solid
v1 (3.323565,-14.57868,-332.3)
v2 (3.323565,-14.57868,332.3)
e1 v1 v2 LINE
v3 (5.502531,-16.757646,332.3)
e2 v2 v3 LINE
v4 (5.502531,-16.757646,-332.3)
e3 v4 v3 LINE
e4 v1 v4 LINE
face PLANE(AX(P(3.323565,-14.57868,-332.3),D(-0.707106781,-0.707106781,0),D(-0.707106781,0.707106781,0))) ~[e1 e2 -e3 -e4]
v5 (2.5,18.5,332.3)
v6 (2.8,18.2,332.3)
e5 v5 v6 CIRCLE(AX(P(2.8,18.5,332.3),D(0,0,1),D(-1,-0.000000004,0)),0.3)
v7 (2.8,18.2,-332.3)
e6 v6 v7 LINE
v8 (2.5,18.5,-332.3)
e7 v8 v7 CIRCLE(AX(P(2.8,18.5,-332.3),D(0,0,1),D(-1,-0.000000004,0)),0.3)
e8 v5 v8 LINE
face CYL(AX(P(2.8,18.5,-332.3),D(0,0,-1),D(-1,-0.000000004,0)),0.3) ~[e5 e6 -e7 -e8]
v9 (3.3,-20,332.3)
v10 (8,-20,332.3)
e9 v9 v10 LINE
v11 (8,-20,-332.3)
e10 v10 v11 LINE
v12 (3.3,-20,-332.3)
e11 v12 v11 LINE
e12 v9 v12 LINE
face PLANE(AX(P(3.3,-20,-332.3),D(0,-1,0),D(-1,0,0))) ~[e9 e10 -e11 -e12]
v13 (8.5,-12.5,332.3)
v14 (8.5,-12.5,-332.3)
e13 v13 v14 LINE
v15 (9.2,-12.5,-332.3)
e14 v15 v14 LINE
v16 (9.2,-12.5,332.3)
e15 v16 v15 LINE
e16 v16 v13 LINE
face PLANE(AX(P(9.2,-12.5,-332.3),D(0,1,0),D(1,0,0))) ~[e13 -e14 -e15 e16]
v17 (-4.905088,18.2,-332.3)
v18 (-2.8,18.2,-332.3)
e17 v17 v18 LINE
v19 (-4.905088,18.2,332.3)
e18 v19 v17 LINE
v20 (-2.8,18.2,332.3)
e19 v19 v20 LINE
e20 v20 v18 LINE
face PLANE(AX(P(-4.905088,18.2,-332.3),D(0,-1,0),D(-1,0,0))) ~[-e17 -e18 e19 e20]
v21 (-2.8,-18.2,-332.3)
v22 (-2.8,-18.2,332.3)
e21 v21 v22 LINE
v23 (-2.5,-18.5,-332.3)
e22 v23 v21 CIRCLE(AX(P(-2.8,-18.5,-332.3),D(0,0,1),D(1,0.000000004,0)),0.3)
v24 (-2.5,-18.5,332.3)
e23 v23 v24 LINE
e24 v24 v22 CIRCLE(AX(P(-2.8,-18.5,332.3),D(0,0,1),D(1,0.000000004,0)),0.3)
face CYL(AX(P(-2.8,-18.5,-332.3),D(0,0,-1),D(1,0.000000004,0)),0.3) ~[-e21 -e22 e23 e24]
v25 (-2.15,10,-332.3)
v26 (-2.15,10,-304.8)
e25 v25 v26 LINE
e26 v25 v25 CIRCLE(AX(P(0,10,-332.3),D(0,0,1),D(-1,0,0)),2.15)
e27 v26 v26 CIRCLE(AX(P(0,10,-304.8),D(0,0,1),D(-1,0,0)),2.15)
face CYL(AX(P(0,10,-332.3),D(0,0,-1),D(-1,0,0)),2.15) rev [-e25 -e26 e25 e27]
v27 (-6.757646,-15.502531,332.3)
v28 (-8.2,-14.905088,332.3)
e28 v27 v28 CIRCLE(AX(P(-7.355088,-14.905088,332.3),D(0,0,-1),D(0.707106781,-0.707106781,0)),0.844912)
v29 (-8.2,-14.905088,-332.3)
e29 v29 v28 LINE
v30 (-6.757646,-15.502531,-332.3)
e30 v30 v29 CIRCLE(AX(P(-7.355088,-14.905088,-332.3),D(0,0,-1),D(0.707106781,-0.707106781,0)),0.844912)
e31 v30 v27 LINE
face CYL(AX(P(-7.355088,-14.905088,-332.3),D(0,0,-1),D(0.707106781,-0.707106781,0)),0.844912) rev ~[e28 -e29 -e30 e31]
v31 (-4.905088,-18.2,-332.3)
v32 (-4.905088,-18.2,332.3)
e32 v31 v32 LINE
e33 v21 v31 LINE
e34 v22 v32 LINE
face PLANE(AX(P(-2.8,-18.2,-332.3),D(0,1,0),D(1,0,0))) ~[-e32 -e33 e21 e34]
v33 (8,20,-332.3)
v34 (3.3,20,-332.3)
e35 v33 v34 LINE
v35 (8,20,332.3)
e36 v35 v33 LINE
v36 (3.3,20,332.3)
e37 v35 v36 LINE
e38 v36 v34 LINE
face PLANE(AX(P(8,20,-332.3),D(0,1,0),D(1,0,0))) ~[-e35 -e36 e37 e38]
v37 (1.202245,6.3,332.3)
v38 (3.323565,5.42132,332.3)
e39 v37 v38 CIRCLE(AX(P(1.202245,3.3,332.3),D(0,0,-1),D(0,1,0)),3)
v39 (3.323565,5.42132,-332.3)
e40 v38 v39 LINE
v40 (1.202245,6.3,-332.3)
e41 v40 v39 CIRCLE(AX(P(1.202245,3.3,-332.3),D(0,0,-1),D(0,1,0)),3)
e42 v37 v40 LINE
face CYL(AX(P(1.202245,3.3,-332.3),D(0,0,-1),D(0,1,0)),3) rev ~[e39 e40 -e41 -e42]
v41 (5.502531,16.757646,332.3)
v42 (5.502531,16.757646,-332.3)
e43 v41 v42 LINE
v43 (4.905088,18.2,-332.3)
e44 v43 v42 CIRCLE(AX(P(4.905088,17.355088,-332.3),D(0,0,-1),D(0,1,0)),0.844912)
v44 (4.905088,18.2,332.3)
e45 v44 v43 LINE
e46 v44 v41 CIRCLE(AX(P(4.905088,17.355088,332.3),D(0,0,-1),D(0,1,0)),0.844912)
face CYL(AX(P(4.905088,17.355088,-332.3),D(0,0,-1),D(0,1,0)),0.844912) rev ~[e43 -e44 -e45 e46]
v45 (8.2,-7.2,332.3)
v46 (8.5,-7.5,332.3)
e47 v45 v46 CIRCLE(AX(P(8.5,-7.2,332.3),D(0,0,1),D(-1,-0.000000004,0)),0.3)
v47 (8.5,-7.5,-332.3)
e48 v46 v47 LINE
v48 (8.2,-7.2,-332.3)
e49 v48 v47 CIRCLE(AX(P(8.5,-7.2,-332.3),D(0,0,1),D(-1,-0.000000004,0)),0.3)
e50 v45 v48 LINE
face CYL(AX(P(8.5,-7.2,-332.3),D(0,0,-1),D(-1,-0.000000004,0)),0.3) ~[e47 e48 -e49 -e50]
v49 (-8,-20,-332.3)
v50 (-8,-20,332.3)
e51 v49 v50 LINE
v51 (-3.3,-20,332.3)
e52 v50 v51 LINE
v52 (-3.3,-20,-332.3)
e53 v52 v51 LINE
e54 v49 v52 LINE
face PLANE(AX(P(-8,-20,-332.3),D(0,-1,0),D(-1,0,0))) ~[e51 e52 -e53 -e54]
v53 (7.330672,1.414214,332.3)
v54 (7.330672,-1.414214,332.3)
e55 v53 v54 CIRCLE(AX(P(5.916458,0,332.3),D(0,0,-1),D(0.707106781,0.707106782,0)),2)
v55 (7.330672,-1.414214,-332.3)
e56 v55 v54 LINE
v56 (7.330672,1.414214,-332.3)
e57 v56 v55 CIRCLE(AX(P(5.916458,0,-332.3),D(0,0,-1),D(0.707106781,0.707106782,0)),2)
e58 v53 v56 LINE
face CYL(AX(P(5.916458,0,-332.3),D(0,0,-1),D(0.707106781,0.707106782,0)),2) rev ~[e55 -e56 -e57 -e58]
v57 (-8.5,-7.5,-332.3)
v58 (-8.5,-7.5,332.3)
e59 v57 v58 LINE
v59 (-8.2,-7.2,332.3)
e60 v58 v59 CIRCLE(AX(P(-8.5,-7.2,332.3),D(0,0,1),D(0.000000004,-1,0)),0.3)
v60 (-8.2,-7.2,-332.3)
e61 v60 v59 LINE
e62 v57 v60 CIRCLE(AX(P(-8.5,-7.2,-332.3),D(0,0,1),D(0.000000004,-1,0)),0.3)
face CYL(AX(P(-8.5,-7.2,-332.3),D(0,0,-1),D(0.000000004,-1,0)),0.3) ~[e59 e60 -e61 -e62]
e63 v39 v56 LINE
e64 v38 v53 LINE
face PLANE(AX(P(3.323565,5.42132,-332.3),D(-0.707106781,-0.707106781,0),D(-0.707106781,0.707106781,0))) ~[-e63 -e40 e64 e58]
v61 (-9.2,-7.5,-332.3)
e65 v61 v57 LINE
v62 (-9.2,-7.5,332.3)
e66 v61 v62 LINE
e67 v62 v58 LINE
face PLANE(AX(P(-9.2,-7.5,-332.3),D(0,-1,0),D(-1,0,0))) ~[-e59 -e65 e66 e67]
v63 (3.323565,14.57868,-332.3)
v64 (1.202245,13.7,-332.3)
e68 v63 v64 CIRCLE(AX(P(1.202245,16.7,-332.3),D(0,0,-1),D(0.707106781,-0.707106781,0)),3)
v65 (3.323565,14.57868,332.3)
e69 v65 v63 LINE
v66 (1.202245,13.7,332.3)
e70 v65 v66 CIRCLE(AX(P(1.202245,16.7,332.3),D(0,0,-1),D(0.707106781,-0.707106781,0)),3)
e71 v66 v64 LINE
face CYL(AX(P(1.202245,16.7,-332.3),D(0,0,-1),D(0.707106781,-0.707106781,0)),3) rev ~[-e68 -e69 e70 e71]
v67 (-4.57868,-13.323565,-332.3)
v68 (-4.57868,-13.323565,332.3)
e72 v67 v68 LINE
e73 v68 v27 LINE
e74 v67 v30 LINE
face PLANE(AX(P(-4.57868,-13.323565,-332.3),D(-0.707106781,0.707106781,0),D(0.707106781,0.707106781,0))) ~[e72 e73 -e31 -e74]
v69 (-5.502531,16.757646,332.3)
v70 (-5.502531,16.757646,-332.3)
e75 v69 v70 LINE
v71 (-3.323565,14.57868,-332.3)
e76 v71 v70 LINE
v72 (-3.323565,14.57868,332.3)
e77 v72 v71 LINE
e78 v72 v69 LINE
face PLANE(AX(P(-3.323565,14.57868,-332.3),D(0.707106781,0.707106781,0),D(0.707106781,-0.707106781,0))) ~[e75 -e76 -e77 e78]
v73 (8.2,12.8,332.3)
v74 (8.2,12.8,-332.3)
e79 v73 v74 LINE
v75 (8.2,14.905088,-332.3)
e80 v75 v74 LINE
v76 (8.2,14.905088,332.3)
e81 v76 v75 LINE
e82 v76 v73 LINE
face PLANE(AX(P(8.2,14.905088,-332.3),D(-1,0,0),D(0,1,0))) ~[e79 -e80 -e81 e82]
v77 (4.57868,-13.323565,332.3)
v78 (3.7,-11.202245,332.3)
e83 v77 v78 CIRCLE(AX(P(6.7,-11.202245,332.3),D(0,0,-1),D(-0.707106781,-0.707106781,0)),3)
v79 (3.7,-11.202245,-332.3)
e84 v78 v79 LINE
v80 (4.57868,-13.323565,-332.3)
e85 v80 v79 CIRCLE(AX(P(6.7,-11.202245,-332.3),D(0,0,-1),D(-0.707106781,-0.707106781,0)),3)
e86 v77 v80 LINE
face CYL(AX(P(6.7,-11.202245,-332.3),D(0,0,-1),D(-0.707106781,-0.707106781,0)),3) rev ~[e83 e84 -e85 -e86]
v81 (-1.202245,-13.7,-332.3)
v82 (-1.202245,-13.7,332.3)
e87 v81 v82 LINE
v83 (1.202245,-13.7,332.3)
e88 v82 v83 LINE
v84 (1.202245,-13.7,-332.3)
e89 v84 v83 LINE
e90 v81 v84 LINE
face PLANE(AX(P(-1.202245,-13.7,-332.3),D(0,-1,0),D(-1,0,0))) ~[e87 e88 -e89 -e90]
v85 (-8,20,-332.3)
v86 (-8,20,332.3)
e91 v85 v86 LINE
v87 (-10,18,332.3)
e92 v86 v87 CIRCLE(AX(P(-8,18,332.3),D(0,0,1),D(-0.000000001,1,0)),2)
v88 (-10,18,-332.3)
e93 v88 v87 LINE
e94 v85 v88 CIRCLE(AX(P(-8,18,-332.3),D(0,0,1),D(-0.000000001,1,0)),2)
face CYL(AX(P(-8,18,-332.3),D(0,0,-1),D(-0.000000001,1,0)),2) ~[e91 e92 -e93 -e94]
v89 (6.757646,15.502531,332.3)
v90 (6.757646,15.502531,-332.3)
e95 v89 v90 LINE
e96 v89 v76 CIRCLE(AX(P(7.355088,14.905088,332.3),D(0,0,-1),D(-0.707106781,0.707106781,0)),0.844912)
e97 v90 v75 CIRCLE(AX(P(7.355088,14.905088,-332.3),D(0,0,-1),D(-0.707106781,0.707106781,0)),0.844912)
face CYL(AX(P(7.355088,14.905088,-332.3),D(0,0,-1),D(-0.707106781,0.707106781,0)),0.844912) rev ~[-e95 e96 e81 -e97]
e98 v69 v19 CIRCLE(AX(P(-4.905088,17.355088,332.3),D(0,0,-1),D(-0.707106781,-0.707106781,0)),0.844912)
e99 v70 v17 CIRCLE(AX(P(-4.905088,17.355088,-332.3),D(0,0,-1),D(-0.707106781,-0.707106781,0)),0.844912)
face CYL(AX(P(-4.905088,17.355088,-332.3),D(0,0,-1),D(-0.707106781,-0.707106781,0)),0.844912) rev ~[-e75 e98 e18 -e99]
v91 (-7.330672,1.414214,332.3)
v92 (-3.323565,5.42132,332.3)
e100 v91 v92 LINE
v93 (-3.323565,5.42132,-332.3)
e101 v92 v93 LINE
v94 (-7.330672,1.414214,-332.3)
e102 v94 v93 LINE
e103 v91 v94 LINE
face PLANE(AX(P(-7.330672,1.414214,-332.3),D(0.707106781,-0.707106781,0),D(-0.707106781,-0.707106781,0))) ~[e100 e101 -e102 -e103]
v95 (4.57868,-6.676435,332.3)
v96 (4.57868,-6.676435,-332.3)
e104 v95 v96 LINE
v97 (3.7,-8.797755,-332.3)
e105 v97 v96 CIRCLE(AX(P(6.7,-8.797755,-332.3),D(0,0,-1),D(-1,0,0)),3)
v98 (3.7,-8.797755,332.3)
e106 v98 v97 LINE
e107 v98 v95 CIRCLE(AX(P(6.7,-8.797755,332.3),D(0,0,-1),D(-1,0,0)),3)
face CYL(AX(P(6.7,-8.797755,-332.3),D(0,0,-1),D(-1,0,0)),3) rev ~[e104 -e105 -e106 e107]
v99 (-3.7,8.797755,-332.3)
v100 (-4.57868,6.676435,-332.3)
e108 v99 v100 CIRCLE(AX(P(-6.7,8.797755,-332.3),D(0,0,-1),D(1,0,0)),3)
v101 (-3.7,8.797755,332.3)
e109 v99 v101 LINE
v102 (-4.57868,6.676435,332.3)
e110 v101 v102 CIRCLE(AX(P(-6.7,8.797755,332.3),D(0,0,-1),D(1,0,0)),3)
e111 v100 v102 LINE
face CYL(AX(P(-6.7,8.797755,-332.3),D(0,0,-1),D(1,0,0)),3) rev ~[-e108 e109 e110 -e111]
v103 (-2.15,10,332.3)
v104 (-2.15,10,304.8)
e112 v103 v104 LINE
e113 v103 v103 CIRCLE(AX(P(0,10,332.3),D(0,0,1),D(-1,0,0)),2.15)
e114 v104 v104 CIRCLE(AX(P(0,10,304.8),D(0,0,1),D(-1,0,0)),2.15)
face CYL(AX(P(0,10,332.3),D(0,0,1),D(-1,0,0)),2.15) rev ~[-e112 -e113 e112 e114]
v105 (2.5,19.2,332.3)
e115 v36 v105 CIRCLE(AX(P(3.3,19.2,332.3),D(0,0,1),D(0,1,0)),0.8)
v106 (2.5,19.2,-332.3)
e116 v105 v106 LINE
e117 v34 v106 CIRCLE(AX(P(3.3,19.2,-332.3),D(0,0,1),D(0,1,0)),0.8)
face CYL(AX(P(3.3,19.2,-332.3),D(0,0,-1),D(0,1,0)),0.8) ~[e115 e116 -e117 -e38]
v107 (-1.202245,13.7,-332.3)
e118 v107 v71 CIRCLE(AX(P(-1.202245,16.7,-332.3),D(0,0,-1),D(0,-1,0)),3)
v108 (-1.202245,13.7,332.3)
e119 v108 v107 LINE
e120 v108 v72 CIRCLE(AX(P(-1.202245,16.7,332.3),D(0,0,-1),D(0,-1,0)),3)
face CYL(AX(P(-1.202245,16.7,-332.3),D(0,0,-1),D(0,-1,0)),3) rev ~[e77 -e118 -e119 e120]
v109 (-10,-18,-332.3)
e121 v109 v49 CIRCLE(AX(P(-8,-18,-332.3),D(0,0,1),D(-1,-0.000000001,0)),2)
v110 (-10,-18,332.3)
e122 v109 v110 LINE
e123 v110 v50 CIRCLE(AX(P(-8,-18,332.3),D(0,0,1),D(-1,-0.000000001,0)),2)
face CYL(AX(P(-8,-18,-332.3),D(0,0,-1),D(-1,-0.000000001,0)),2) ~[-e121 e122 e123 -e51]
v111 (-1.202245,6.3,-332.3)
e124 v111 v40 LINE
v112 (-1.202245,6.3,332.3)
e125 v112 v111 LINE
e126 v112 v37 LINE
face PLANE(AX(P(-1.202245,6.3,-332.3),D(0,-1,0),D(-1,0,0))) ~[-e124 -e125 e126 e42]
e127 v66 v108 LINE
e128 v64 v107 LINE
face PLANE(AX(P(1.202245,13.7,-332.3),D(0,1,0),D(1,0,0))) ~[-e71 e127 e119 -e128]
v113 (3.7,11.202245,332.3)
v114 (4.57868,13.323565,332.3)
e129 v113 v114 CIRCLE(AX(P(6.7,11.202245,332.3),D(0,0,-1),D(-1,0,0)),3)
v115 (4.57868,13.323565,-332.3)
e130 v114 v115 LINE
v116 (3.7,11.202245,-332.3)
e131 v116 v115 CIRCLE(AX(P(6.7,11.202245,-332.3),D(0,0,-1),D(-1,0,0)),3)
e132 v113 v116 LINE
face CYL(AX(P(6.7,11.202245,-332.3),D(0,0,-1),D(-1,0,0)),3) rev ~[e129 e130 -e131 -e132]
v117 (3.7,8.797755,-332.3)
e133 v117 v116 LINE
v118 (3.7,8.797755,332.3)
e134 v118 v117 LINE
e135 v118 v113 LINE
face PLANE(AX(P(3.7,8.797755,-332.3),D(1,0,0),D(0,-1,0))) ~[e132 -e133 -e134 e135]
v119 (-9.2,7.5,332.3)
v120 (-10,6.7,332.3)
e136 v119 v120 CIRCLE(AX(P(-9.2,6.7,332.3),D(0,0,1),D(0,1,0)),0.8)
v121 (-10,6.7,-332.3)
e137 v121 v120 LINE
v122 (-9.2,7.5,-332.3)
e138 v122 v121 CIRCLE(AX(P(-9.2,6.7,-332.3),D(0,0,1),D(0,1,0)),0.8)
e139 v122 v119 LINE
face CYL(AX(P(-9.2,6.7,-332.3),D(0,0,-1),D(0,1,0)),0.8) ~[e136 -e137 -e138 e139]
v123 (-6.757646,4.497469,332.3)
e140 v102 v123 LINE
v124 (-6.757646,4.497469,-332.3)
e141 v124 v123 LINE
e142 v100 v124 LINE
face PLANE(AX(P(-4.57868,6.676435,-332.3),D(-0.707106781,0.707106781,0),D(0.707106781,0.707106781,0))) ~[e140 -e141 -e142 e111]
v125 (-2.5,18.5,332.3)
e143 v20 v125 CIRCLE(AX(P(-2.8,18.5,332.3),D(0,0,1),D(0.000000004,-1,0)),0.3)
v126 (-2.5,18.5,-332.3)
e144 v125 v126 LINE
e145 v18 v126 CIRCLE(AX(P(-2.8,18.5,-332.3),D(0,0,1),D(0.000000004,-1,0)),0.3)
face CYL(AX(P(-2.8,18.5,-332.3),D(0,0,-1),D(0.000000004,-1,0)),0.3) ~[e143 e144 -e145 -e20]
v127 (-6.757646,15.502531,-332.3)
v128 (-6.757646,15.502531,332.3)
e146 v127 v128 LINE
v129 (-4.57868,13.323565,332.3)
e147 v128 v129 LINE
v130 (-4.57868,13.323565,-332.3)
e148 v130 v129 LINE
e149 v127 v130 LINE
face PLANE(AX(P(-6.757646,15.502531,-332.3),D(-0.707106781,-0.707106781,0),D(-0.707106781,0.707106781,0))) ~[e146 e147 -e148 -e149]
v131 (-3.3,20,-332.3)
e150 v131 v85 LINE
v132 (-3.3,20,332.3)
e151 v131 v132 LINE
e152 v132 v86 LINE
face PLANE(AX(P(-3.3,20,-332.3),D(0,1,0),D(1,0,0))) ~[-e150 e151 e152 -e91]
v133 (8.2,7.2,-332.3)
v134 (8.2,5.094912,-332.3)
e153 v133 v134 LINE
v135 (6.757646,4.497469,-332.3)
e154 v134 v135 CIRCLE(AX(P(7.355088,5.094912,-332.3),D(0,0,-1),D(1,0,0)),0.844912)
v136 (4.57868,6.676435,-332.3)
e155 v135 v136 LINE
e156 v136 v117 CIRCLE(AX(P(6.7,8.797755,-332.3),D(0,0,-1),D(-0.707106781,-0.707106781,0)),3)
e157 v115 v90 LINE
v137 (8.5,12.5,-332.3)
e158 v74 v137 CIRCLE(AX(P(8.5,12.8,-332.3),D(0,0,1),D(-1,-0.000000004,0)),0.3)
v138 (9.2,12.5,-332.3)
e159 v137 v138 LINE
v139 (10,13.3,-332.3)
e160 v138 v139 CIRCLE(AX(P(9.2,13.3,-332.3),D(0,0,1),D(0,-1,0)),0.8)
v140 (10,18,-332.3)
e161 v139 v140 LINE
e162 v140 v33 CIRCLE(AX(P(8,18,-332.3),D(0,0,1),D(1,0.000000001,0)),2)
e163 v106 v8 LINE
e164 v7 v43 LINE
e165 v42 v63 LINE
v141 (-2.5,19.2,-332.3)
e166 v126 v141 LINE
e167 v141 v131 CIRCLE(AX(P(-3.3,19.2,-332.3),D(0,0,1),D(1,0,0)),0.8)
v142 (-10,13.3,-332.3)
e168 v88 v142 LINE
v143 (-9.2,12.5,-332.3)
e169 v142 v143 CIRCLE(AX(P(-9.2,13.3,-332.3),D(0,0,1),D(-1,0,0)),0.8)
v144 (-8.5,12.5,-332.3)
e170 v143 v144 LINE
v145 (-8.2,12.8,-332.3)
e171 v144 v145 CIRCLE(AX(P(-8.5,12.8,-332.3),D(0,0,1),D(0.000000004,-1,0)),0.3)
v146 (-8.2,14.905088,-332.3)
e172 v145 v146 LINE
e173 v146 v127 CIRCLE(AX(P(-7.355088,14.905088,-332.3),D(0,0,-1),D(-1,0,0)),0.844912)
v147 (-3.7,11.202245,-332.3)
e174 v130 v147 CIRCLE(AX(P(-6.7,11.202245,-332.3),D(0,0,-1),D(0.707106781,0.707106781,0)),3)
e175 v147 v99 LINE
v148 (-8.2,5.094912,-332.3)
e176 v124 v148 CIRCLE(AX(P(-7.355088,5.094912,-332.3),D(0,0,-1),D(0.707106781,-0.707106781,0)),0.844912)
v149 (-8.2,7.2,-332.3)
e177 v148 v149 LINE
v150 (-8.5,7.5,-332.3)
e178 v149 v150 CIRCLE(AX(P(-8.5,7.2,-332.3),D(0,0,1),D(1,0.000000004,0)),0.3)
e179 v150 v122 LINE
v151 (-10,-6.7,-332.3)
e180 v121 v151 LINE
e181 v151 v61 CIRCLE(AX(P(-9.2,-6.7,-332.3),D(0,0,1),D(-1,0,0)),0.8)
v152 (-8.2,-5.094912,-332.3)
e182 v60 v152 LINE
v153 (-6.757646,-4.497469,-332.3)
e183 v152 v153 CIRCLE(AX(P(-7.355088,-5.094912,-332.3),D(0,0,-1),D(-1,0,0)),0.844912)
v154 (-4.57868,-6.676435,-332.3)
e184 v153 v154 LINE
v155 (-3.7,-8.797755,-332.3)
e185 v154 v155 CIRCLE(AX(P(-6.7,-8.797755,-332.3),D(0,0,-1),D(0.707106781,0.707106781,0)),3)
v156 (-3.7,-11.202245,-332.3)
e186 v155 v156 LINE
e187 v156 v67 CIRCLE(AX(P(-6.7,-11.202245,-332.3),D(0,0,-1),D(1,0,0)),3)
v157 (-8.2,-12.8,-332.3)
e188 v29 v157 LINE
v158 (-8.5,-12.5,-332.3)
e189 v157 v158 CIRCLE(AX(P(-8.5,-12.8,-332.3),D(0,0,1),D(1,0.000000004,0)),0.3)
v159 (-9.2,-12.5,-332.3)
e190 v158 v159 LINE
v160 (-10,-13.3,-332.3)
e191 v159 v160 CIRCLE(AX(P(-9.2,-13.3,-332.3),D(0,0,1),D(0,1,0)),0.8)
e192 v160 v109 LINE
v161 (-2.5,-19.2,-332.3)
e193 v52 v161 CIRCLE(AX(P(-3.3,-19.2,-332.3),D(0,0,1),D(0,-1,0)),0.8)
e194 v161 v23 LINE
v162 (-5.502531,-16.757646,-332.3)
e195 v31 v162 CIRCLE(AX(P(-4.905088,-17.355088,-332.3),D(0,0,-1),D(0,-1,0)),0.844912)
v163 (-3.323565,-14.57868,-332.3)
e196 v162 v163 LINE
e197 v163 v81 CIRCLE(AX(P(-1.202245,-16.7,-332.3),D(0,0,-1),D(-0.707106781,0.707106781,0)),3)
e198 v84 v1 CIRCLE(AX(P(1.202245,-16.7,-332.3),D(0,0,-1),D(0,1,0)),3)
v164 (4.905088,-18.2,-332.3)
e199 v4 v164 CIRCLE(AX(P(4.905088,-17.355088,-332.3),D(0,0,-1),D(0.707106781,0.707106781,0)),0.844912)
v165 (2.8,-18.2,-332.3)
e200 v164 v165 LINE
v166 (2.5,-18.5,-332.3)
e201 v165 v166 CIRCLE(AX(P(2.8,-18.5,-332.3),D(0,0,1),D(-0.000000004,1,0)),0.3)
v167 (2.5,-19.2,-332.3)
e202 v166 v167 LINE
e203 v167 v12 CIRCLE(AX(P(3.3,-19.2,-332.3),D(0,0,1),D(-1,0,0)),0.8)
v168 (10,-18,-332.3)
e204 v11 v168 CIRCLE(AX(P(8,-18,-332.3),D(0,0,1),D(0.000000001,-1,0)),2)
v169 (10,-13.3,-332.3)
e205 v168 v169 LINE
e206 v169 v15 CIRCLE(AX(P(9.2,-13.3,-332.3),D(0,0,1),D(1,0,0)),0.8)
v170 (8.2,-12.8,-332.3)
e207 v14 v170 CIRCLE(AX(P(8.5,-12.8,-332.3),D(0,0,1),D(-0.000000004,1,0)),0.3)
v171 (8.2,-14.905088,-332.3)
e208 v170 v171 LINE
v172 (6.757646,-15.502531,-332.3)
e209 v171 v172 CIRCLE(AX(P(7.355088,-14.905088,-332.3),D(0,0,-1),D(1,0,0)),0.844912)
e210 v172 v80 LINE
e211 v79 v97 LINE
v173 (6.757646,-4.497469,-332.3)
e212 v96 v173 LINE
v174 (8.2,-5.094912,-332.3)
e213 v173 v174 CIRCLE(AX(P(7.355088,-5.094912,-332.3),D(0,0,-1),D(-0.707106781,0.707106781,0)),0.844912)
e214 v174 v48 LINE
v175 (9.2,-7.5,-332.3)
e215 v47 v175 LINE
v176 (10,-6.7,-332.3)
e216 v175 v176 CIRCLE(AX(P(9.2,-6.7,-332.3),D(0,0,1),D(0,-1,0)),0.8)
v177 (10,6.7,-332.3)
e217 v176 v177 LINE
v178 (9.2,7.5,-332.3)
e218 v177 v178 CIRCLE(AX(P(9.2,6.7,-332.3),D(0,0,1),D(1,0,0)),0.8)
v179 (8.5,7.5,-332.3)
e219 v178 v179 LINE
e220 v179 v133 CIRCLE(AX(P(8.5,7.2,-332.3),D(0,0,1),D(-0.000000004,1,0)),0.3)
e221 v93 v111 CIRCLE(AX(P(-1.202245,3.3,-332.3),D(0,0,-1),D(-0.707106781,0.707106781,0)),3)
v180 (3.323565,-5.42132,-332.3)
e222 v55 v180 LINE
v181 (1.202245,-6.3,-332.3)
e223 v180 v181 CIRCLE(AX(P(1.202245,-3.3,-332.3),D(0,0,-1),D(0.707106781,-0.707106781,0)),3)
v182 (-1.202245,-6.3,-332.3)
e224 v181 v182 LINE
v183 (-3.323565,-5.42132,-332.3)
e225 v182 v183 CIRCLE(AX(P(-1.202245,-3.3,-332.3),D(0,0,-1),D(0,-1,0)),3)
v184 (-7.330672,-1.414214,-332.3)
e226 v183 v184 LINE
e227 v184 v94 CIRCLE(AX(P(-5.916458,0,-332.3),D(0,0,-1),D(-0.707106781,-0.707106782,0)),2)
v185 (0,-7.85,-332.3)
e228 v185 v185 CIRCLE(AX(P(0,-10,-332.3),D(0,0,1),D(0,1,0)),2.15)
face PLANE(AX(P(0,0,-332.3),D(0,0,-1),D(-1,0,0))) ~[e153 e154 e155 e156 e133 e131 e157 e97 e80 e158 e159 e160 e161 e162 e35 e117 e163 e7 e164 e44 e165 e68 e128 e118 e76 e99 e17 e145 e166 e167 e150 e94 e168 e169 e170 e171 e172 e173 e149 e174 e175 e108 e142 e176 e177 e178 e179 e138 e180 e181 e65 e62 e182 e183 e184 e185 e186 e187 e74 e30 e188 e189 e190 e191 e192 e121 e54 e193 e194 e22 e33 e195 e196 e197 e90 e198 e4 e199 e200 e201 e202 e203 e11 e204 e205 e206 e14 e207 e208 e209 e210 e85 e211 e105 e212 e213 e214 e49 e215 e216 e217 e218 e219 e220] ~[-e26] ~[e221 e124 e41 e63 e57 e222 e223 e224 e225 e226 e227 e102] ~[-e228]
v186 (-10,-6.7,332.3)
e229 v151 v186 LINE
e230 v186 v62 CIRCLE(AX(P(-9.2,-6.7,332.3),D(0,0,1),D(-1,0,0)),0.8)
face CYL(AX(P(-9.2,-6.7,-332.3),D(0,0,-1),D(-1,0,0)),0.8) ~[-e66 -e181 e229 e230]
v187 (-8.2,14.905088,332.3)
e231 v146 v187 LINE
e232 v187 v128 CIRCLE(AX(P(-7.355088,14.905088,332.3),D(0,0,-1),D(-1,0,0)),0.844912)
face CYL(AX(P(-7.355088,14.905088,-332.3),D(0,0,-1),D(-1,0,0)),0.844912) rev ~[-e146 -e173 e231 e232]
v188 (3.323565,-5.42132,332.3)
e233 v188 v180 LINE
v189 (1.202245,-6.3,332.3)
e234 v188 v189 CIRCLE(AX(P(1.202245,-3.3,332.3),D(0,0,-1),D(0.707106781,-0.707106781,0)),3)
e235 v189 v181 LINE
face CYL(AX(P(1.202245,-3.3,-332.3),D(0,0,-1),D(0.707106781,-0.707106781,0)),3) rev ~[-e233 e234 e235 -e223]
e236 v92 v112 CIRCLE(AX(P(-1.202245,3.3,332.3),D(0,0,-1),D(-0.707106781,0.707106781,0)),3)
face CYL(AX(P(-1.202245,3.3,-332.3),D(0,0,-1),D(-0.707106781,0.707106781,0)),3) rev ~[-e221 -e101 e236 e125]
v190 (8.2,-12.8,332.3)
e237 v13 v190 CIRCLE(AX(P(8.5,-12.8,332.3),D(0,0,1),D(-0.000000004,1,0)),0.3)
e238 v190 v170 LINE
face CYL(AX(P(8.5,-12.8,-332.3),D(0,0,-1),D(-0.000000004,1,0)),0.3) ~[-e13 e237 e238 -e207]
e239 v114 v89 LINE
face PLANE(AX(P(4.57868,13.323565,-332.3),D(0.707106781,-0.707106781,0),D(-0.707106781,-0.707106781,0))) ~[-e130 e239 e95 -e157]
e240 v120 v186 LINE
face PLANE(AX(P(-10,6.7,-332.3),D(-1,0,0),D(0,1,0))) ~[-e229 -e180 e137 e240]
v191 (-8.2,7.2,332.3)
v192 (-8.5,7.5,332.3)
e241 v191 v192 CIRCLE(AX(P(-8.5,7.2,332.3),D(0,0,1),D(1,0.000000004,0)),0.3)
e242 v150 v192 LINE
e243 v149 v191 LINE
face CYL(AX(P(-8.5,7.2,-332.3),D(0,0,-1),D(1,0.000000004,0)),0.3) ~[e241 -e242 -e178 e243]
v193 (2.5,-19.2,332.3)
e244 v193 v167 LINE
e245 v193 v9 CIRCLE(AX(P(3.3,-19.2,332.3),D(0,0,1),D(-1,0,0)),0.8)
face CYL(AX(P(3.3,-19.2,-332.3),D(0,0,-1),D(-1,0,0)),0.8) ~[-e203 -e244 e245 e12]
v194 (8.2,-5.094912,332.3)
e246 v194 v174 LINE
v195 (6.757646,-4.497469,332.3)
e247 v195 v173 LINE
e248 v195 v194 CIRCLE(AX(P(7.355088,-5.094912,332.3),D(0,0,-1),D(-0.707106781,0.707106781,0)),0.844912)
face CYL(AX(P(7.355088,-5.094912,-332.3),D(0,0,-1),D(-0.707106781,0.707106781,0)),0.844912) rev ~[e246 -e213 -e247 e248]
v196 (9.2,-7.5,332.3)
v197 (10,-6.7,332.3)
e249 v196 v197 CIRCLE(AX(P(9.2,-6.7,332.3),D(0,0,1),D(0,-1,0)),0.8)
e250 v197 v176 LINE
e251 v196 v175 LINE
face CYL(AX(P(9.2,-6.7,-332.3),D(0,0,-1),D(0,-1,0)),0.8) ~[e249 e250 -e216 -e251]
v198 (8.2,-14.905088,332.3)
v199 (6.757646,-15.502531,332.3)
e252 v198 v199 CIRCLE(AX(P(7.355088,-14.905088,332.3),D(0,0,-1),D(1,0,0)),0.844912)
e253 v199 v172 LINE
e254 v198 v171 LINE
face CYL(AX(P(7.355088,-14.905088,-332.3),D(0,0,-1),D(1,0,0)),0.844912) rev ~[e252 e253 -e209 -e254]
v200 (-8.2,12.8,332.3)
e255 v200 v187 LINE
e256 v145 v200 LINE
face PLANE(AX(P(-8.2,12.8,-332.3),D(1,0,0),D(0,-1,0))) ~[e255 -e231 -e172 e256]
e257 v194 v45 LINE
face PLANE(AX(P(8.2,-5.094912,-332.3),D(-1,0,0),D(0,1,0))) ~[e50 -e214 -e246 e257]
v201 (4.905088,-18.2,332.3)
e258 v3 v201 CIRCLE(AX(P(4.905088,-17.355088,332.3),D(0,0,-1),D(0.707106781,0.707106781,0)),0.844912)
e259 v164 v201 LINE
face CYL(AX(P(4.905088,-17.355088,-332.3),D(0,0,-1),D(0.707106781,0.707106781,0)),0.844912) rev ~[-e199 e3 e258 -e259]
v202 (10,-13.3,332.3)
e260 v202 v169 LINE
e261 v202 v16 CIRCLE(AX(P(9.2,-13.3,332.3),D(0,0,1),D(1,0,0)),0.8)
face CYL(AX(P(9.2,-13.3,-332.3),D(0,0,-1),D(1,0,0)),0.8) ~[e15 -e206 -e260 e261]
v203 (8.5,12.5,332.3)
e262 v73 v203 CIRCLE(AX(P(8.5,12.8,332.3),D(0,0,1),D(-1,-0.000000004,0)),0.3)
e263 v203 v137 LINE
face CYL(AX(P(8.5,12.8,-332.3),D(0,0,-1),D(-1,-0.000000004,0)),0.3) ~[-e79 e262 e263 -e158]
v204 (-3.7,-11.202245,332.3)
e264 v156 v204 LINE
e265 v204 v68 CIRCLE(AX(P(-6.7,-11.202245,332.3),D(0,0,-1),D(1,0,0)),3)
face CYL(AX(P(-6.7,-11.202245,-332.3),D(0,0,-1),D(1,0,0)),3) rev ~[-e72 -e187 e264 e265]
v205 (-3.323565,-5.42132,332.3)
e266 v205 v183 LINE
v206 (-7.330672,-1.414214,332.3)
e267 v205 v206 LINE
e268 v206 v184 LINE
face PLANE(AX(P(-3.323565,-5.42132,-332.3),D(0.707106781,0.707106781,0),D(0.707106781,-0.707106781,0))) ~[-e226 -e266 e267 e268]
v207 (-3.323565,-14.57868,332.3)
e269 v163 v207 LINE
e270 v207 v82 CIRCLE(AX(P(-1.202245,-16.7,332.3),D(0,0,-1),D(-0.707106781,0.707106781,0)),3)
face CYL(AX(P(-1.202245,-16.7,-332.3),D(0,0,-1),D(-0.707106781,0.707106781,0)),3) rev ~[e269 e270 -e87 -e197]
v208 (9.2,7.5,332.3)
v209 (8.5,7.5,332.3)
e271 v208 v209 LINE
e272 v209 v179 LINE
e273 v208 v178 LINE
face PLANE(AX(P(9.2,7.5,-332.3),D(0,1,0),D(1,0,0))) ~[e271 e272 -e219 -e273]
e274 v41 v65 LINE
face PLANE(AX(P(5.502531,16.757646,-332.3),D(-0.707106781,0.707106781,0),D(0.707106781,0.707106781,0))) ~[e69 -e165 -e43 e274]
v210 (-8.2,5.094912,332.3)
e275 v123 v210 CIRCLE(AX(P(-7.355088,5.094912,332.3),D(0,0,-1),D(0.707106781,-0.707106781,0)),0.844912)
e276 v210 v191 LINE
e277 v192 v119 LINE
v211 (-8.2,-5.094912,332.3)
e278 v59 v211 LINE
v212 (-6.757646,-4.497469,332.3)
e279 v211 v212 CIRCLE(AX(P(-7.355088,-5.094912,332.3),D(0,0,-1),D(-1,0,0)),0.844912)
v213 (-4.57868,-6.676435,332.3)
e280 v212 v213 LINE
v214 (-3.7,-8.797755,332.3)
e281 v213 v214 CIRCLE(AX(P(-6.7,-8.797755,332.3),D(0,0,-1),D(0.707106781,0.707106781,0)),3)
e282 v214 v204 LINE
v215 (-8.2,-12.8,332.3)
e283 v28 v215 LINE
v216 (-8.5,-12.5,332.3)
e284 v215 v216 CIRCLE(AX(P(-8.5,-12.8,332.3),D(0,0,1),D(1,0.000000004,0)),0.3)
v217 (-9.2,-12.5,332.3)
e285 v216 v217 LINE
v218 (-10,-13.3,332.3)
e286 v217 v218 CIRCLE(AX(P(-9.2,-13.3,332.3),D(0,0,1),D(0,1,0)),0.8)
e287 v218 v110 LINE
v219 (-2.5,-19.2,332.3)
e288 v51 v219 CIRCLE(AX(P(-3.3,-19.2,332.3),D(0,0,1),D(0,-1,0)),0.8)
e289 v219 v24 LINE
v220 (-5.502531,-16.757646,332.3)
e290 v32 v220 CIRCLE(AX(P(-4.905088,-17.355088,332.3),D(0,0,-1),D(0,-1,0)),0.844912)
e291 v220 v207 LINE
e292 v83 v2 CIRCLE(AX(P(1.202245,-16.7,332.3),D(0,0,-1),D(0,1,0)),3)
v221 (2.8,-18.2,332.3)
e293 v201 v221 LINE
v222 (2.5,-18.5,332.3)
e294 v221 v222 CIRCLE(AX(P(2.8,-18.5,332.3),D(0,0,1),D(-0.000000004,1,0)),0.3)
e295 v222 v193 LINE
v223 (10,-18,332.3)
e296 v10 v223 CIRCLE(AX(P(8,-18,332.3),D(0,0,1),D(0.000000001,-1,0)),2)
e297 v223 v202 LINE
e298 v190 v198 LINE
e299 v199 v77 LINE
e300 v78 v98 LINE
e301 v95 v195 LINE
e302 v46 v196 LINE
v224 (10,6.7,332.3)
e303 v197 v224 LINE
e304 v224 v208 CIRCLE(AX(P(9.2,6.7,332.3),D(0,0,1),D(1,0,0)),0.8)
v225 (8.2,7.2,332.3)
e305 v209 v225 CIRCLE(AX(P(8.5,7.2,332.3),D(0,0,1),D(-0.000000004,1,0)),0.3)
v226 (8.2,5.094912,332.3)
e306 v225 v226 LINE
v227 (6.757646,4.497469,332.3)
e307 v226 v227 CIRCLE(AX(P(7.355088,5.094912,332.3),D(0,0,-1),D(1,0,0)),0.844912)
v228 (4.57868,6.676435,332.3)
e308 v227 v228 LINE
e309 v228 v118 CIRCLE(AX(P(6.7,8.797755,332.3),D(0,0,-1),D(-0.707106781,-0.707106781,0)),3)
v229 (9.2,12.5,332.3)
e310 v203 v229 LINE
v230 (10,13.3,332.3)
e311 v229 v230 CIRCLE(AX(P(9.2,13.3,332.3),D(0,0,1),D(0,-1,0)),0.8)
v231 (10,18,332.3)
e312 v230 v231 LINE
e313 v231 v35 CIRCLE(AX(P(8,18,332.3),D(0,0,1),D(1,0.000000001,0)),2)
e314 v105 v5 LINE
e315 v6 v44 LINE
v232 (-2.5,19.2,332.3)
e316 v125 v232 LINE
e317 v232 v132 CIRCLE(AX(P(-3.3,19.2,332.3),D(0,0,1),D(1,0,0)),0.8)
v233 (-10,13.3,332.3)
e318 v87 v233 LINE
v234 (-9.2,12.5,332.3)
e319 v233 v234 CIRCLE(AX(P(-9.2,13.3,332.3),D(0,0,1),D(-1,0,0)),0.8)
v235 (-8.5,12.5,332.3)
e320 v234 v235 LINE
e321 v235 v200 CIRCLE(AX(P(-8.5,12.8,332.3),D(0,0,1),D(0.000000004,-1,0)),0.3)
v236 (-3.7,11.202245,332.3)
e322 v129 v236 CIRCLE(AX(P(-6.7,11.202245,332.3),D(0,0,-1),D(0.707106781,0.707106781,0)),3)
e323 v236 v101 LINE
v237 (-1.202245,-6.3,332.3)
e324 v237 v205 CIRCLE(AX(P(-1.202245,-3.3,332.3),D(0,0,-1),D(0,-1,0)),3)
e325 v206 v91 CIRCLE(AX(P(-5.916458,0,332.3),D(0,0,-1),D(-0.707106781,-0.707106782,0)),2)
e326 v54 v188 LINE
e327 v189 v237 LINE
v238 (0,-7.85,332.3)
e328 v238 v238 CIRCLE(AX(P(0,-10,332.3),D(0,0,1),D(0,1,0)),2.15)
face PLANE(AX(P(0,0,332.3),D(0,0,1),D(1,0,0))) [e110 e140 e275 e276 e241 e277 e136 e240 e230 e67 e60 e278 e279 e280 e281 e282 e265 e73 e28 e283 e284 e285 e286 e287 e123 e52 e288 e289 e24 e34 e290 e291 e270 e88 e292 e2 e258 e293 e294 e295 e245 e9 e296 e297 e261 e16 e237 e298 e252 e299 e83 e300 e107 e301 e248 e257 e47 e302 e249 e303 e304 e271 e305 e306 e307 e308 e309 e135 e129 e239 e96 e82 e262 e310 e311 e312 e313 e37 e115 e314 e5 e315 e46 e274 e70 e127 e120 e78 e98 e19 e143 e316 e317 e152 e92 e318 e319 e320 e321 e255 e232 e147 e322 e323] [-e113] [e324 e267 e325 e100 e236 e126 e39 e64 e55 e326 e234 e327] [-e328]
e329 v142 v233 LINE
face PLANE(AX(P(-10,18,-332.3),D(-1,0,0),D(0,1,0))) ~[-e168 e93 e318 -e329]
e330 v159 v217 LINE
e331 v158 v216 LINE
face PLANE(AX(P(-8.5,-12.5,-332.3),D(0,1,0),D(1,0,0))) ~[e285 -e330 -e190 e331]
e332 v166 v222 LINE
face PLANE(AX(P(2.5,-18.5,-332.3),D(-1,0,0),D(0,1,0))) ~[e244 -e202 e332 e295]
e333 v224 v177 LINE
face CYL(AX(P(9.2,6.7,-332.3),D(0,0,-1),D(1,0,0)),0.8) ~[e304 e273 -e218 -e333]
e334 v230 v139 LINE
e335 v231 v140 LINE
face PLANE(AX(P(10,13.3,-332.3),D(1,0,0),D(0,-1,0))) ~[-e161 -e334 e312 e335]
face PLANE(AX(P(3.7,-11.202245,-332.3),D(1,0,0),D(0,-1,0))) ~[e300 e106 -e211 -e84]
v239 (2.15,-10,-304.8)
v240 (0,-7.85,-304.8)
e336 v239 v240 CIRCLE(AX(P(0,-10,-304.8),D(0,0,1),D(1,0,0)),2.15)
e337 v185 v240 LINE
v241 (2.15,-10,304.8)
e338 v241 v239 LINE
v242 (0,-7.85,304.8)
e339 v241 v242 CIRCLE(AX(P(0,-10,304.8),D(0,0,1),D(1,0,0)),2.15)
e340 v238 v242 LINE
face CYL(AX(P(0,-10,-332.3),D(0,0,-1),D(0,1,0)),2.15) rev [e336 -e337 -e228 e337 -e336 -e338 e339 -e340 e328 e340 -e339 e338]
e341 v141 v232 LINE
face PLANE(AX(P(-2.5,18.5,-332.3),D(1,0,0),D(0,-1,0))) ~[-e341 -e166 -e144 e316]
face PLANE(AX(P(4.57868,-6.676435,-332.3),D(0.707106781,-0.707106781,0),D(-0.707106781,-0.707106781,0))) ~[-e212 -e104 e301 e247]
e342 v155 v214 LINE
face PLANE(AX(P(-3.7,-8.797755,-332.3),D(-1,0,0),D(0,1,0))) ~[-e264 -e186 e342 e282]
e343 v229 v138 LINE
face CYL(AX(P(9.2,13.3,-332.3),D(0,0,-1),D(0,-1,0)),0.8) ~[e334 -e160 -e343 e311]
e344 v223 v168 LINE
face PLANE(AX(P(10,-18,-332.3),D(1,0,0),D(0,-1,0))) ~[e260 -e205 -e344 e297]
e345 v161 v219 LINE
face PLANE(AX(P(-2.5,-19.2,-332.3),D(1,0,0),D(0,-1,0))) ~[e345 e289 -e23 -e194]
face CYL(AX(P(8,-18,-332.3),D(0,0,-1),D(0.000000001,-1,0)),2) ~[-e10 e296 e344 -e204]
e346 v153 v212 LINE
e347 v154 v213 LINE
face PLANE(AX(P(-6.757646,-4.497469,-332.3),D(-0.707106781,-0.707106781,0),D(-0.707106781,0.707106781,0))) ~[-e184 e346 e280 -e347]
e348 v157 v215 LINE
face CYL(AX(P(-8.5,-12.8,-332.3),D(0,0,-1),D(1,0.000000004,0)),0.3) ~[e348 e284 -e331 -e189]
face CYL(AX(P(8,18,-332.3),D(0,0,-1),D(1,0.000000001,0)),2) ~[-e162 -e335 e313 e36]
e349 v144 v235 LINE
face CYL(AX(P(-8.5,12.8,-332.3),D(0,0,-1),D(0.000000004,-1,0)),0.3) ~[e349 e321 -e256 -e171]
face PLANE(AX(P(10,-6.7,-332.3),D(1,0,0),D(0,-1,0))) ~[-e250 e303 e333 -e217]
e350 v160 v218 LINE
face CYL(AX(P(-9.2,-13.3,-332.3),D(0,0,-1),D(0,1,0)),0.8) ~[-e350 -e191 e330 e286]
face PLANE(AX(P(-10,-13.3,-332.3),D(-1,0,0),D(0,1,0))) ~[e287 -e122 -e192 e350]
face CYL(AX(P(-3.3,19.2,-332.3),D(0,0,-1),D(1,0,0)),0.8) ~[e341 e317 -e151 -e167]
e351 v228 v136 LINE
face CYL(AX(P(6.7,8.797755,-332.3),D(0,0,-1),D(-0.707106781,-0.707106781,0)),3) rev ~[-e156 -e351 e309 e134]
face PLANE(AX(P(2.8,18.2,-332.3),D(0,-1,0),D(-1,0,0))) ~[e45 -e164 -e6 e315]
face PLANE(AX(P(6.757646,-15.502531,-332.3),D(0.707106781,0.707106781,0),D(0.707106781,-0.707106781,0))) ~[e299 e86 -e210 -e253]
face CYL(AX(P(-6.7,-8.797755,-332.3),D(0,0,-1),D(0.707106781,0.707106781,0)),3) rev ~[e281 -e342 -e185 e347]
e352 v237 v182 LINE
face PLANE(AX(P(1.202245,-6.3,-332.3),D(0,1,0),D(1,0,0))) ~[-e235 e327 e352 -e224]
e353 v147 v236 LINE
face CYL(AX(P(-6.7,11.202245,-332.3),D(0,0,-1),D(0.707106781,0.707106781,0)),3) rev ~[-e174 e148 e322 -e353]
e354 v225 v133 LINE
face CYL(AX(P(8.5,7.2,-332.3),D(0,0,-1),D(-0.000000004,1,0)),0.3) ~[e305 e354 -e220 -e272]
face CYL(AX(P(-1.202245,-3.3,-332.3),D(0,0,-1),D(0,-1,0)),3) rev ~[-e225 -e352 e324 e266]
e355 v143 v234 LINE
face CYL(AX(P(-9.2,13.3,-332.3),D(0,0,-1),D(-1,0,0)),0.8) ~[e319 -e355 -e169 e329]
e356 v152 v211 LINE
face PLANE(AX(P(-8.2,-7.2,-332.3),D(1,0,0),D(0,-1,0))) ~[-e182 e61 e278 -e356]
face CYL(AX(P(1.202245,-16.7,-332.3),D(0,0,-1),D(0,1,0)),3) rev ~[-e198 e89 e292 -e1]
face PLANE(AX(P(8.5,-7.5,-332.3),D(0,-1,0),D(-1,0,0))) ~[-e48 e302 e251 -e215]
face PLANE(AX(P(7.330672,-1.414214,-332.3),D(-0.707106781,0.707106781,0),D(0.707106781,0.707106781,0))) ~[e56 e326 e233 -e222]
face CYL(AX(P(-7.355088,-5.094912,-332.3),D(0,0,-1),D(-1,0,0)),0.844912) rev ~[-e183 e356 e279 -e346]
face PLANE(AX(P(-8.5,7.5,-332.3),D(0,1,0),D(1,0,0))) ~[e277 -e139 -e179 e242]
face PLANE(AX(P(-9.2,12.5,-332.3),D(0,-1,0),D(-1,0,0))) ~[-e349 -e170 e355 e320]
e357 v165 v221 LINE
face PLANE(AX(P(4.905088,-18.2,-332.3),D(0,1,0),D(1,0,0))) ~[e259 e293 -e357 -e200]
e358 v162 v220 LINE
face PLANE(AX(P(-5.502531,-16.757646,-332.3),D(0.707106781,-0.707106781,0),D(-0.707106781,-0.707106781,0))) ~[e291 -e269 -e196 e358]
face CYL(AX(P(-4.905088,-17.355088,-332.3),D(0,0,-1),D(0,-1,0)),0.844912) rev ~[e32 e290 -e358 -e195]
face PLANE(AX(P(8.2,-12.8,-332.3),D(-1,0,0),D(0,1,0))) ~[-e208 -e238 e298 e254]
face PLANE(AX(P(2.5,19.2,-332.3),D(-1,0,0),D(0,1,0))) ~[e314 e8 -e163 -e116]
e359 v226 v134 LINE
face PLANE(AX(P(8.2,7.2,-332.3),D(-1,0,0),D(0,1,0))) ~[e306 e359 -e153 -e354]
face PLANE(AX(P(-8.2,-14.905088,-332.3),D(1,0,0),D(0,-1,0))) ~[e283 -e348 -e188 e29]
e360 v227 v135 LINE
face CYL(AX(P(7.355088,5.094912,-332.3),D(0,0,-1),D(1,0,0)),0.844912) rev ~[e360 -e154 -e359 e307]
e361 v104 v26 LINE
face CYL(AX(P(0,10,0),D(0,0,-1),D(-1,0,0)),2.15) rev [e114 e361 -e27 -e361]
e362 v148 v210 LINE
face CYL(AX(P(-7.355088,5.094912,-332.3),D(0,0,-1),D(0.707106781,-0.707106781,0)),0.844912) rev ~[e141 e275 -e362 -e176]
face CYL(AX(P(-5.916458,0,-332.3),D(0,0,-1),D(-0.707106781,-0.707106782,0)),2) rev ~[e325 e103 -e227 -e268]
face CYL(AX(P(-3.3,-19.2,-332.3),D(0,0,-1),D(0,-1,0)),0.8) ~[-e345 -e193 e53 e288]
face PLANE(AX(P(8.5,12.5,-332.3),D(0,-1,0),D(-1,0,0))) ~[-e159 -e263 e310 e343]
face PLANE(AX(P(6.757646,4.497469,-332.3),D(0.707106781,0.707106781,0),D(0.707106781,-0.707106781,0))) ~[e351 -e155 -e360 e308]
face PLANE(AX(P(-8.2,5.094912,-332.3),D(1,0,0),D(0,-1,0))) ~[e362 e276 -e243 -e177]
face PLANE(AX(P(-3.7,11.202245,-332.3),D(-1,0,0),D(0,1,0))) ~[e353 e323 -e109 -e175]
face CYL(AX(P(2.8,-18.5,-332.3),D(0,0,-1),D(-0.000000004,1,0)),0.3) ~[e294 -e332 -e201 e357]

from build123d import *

# Parameters (mm, degrees)
SKETCH3_R           = 2.15
BOSS_EXTRUDE1_DEPTH = 304.8
CIRPATTERN1_COUNT   = 2
BOSS_EXTRUDE2_START = 27.5
SKETCH4_R           = 2.15
BOSS_EXTRUDE2_DEPTH = 27.5


with BuildPart() as part:
    # Sketch3 → Boss-Extrude1 (new, symmetric)
    with BuildSketch(Plane.XY):
        with BuildLine():
            Line((-8.5, 7.5), (-9.2, 7.5))
            ThreePointArc((-9.2, 7.5), (-9.765685425, 7.265685425), (-10, 6.7))
            Line((-10, 6.7), (-10, 0))
            Line((-10, 0), (-7.916458339, 0))
            ThreePointArc((-7.916458339, 0), (-7.764217404, 0.765366865), (-7.330671901, 1.414213562))
            Line((-7.330671901, 1.414213562), (-3.32356512, 5.421320344))
            ThreePointArc((-3.32356512, 5.421320344), (-2.350295073, 6.071638598), (-1.202244776, 6.3))
            Line((-1.202244776, 6.3), (1.202244776, 6.3))
            ThreePointArc((1.202244776, 6.3), (2.350295073, 6.071638598), (3.32356512, 5.421320344))
            Line((3.32356512, 5.421320344), (7.330671901, 1.414213562))
            ThreePointArc((7.330671901, 1.414213562), (7.764217404, 0.765366865), (7.916458339, 0))
            Line((7.916458339, 0), (10, 0))
            Line((10, 0), (10, 6.7))
            ThreePointArc((10, 6.7), (9.765685425, 7.265685425), (9.2, 7.5))
            Line((9.2, 7.5), (8.5, 7.5))
            ThreePointArc((8.5, 7.5), (8.287867966, 7.412132034), (8.2, 7.2))
            Line((8.2, 7.2), (8.2, 5.094911614))
            ThreePointArc((8.2, 5.094911614), (7.678422063, 4.314315067), (6.757645654, 4.497468882))
            Line((6.757645654, 4.497468882), (4.578679656, 6.67643488))
            ThreePointArc((4.578679656, 6.67643488), (3.928361402, 7.649704927), (3.7, 8.797755224))
            Line((3.7, 8.797755224), (3.7, 11.202244776))
            ThreePointArc((3.7, 11.202244776), (3.928361402, 12.350295073), (4.578679656, 13.32356512))
            Line((4.578679656, 13.32356512), (6.757645654, 15.502531118))
            ThreePointArc((6.757645654, 15.502531118), (7.678422063, 15.685684933), (8.2, 14.905088386))
            Line((8.2, 14.905088386), (8.2, 12.8))
            ThreePointArc((8.2, 12.8), (8.287867966, 12.587867966), (8.5, 12.5))
            Line((8.5, 12.5), (9.2, 12.5))
            ThreePointArc((9.2, 12.5), (9.765685425, 12.734314575), (10, 13.3))
            Line((10, 13.3), (10, 18))
            ThreePointArc((10, 18), (9.414213562, 19.414213562), (8, 20))
            Line((8, 20), (3.3, 20))
            ThreePointArc((3.3, 20), (2.734314575, 19.765685425), (2.5, 19.2))
            Line((2.5, 19.2), (2.5, 18.5))
            ThreePointArc((2.5, 18.5), (2.587867966, 18.287867966), (2.8, 18.2))
            Line((2.8, 18.2), (4.905088386, 18.2))
            ThreePointArc((4.905088386, 18.2), (5.685684933, 17.678422063), (5.502531118, 16.757645654))
            Line((5.502531118, 16.757645654), (3.32356512, 14.578679656))
            ThreePointArc((3.32356512, 14.578679656), (2.350295073, 13.928361402), (1.202244776, 13.7))
            Line((1.202244776, 13.7), (-1.202244776, 13.7))
            ThreePointArc((-1.202244776, 13.7), (-2.350295073, 13.928361402), (-3.32356512, 14.578679656))
            Line((-3.32356512, 14.578679656), (-5.502531118, 16.757645654))
            ThreePointArc((-5.502531118, 16.757645654), (-5.685684933, 17.678422063), (-4.905088386, 18.2))
            Line((-4.905088386, 18.2), (-2.8, 18.2))
            ThreePointArc((-2.8, 18.2), (-2.587867966, 18.287867966), (-2.5, 18.5))
            Line((-2.5, 18.5), (-2.5, 19.2))
            ThreePointArc((-2.5, 19.2), (-2.734314575, 19.765685425), (-3.3, 20))
            Line((-3.3, 20), (-8, 20))
            ThreePointArc((-8, 20), (-9.414213562, 19.414213562), (-10, 18))
            Line((-10, 18), (-10, 13.3))
            ThreePointArc((-10, 13.3), (-9.765685425, 12.734314575), (-9.2, 12.5))
            Line((-9.2, 12.5), (-8.5, 12.5))
            ThreePointArc((-8.5, 12.5), (-8.287867966, 12.587867966), (-8.2, 12.8))
            Line((-8.2, 12.8), (-8.2, 14.905088386))
            ThreePointArc((-8.2, 14.905088386), (-7.678422063, 15.685684933), (-6.757645654, 15.502531118))
            Line((-6.757645654, 15.502531118), (-4.578679656, 13.32356512))
            ThreePointArc((-4.578679656, 13.32356512), (-3.928361402, 12.350295073), (-3.7, 11.202244776))
            Line((-3.7, 11.202244776), (-3.7, 8.797755224))
            ThreePointArc((-3.7, 8.797755224), (-3.928361402, 7.649704927), (-4.578679656, 6.67643488))
            Line((-4.578679656, 6.67643488), (-6.757645654, 4.497468882))
            ThreePointArc((-6.757645654, 4.497468882), (-7.678422063, 4.314315067), (-8.2, 5.094911614))
            Line((-8.2, 5.094911614), (-8.2, 7.2))
            ThreePointArc((-8.2, 7.2), (-8.287867966, 7.412132034), (-8.5, 7.5))
        make_face()
        with Locations(Location((0, 10, 0), (0, 0, 180))):
            Circle(SKETCH3_R, mode=Mode.SUBTRACT)
    boss_extrude1 = extrude(amount=BOSS_EXTRUDE1_DEPTH, both=True)

    # CirPattern1: Boss-Extrude1 ×2 about axis
    cirpattern1_axis = Axis((0, 0, 0), (0, 0, 1))
    for i in range(1, CIRPATTERN1_COUNT):
        add(boss_extrude1.rotate(cirpattern1_axis, i * 360 / CIRPATTERN1_COUNT))

    # Sketch4 → Boss-Extrude2 (add)
    with BuildSketch(Plane.XY.offset(304.8).offset(BOSS_EXTRUDE2_START)):
        with BuildLine():
            Line((-2.5, 18.5), (-2.5, 19.2))
            ThreePointArc((-2.5, 19.2), (-2.734314575, 19.765685425), (-3.3, 20))
            Line((-3.3, 20), (-8, 20))
            ThreePointArc((-8, 20), (-9.414213562, 19.414213562), (-10, 18))
            Line((-10, 18), (-10, 13.3))
            ThreePointArc((-10, 13.3), (-9.765685425, 12.734314575), (-9.2, 12.5))
            Line((-9.2, 12.5), (-8.5, 12.5))
            ThreePointArc((-8.5, 12.5), (-8.287867966, 12.587867966), (-8.2, 12.8))
            Line((-8.2, 12.8), (-8.2, 14.905088386))
            ThreePointArc((-8.2, 14.905088386), (-7.678422063, 15.685684933), (-6.757645654, 15.502531118))
            Line((-6.757645654, 15.502531118), (-4.578679656, 13.32356512))
            ThreePointArc((-4.578679656, 13.32356512), (-3.928361402, 12.350295073), (-3.7, 11.202244776))
            Line((-3.7, 11.202244776), (-3.7, 8.797755224))
            ThreePointArc((-3.7, 8.797755224), (-3.928361402, 7.649704927), (-4.578679656, 6.67643488))
            Line((-4.578679656, 6.67643488), (-6.757645654, 4.497468882))
            ThreePointArc((-6.757645654, 4.497468882), (-7.678422063, 4.314315067), (-8.2, 5.094911614))
            Line((-8.2, 5.094911614), (-8.2, 7.2))
            ThreePointArc((-8.2, 7.2), (-8.287867966, 7.412132034), (-8.5, 7.5))
            Line((-8.5, 7.5), (-9.2, 7.5))
            ThreePointArc((-9.2, 7.5), (-9.765685425, 7.265685425), (-10, 6.7))
            Line((-10, 6.7), (-10, -6.7))
            ThreePointArc((-10, -6.7), (-9.765685425, -7.265685425), (-9.2, -7.5))
            Line((-9.2, -7.5), (-8.5, -7.5))
            ThreePointArc((-8.5, -7.5), (-8.287867966, -7.412132034), (-8.2, -7.2))
            Line((-8.2, -7.2), (-8.2, -5.094911614))
            ThreePointArc((-8.2, -5.094911614), (-7.678422063, -4.314315067), (-6.757645654, -4.497468882))
            Line((-6.757645654, -4.497468882), (-4.578679656, -6.67643488))
            ThreePointArc((-4.578679656, -6.67643488), (-3.928361402, -7.649704927), (-3.7, -8.797755224))
            Line((-3.7, -8.797755224), (-3.7, -11.202244776))
            ThreePointArc((-3.7, -11.202244776), (-3.928361402, -12.350295073), (-4.578679656, -13.32356512))
            Line((-4.578679656, -13.32356512), (-6.757645654, -15.502531118))
            ThreePointArc((-6.757645654, -15.502531118), (-7.678422063, -15.685684933), (-8.2, -14.905088386))
            Line((-8.2, -14.905088386), (-8.2, -12.8))
            ThreePointArc((-8.2, -12.8), (-8.287867966, -12.587867966), (-8.5, -12.5))
            Line((-8.5, -12.5), (-9.2, -12.5))
            ThreePointArc((-9.2, -12.5), (-9.765685425, -12.734314575), (-10, -13.3))
            Line((-10, -13.3), (-10, -18))
            ThreePointArc((-10, -18), (-9.414213562, -19.414213562), (-8, -20))
            Line((-8, -20), (-3.3, -20))
            ThreePointArc((-3.3, -20), (-2.734314575, -19.765685425), (-2.5, -19.2))
            Line((-2.5, -19.2), (-2.5, -18.5))
            ThreePointArc((-2.5, -18.5), (-2.587867966, -18.287867966), (-2.8, -18.2))
            Line((-2.8, -18.2), (-4.905088386, -18.2))
            ThreePointArc((-4.905088386, -18.2), (-5.685684933, -17.678422063), (-5.502531118, -16.757645654))
            Line((-5.502531118, -16.757645654), (-3.32356512, -14.578679656))
            ThreePointArc((-3.32356512, -14.578679656), (-2.350295073, -13.928361402), (-1.202244776, -13.7))
            Line((-1.202244776, -13.7), (1.202244776, -13.7))
            ThreePointArc((1.202244776, -13.7), (2.350295073, -13.928361402), (3.32356512, -14.578679656))
            Line((3.32356512, -14.578679656), (5.502531118, -16.757645654))
            ThreePointArc((5.502531118, -16.757645654), (5.685684933, -17.678422063), (4.905088386, -18.2))
            Line((4.905088386, -18.2), (2.8, -18.2))
            ThreePointArc((2.8, -18.2), (2.587867966, -18.287867966), (2.5, -18.5))
            Line((2.5, -18.5), (2.5, -19.2))
            ThreePointArc((2.5, -19.2), (2.734314575, -19.765685425), (3.3, -20))
            Line((3.3, -20), (8, -20))
            ThreePointArc((8, -20), (9.414213562, -19.414213562), (10, -18))
            Line((10, -18), (10, -13.3))
            ThreePointArc((10, -13.3), (9.765685425, -12.734314575), (9.2, -12.5))
            Line((9.2, -12.5), (8.5, -12.5))
            ThreePointArc((8.5, -12.5), (8.287867966, -12.587867966), (8.2, -12.8))
            Line((8.2, -12.8), (8.2, -14.905088386))
            ThreePointArc((8.2, -14.905088386), (7.678422063, -15.685684933), (6.757645654, -15.502531118))
            Line((6.757645654, -15.502531118), (4.578679656, -13.32356512))
            ThreePointArc((4.578679656, -13.32356512), (3.928361402, -12.350295073), (3.7, -11.202244776))
            Line((3.7, -11.202244776), (3.7, -8.797755224))
            ThreePointArc((3.7, -8.797755224), (3.928361402, -7.649704927), (4.578679656, -6.67643488))
            Line((4.578679656, -6.67643488), (6.757645654, -4.497468882))
            ThreePointArc((6.757645654, -4.497468882), (7.678422063, -4.314315067), (8.2, -5.094911614))
            Line((8.2, -5.094911614), (8.2, -7.2))
            ThreePointArc((8.2, -7.2), (8.287867966, -7.412132034), (8.5, -7.5))
            Line((8.5, -7.5), (9.2, -7.5))
            ThreePointArc((9.2, -7.5), (9.765685425, -7.265685425), (10, -6.7))
            Line((10, -6.7), (10, 6.7))
            ThreePointArc((10, 6.7), (9.765685425, 7.265685425), (9.2, 7.5))
            Line((9.2, 7.5), (8.5, 7.5))
            ThreePointArc((8.5, 7.5), (8.287867966, 7.412132034), (8.2, 7.2))
            Line((8.2, 7.2), (8.2, 5.094911614))
            ThreePointArc((8.2, 5.094911614), (7.678422063, 4.314315067), (6.757645654, 4.497468882))
            Line((6.757645654, 4.497468882), (4.578679656, 6.67643488))
            ThreePointArc((4.578679656, 6.67643488), (3.928361402, 7.649704927), (3.7, 8.797755224))
            Line((3.7, 8.797755224), (3.7, 11.202244776))
            ThreePointArc((3.7, 11.202244776), (3.928361402, 12.350295073), (4.578679656, 13.32356512))
            Line((4.578679656, 13.32356512), (6.757645654, 15.502531118))
            ThreePointArc((6.757645654, 15.502531118), (7.678422063, 15.685684933), (8.2, 14.905088386))
            Line((8.2, 14.905088386), (8.2, 12.8))
            ThreePointArc((8.2, 12.8), (8.287867966, 12.587867966), (8.5, 12.5))
            Line((8.5, 12.5), (9.2, 12.5))
            ThreePointArc((9.2, 12.5), (9.765685425, 12.734314575), (10, 13.3))
            Line((10, 13.3), (10, 18))
            ThreePointArc((10, 18), (9.414213562, 19.414213562), (8, 20))
            Line((8, 20), (3.3, 20))
            ThreePointArc((3.3, 20), (2.734314575, 19.765685425), (2.5, 19.2))
            Line((2.5, 19.2), (2.5, 18.5))
            ThreePointArc((2.5, 18.5), (2.587867966, 18.287867966), (2.8, 18.2))
            Line((2.8, 18.2), (4.905088386, 18.2))
            ThreePointArc((4.905088386, 18.2), (5.685684933, 17.678422063), (5.502531118, 16.757645654))
            Line((5.502531118, 16.757645654), (3.32356512, 14.578679656))
            ThreePointArc((3.32356512, 14.578679656), (2.350295073, 13.928361402), (1.202244776, 13.7))
            Line((1.202244776, 13.7), (-1.202244776, 13.7))
            ThreePointArc((-1.202244776, 13.7), (-2.350295073, 13.928361402), (-3.32356512, 14.578679656))
            Line((-3.32356512, 14.578679656), (-5.502531118, 16.757645654))
            ThreePointArc((-5.502531118, 16.757645654), (-5.685684933, 17.678422063), (-4.905088386, 18.2))
            Line((-4.905088386, 18.2), (-2.8, 18.2))
            ThreePointArc((-2.8, 18.2), (-2.587867966, 18.287867966), (-2.5, 18.5))
        make_face()
        with Locations(Location((0, 10, 0), (0, 0, 180))):
            Circle(SKETCH4_R, mode=Mode.SUBTRACT)
        with Locations(Location((0, -10, 0), (0, 0, 90))):
            Circle(SKETCH4_R, mode=Mode.SUBTRACT)
        with BuildLine():
            Line((7.330671901, -1.414213562), (3.32356512, -5.421320344))
            ThreePointArc((3.32356512, -5.421320344), (2.350295073, -6.071638598), (1.202244776, -6.3))
            Line((1.202244776, -6.3), (-1.202244776, -6.3))
            ThreePointArc((-1.202244776, -6.3), (-2.350295073, -6.071638598), (-3.32356512, -5.421320344))
            Line((-3.32356512, -5.421320344), (-7.330671901, -1.414213562))
            ThreePointArc((-7.330671901, -1.414213562), (-7.916458339, 0), (-7.330671901, 1.414213562))
            Line((-7.330671901, 1.414213562), (-3.32356512, 5.421320344))
            ThreePointArc((-3.32356512, 5.421320344), (-2.350295073, 6.071638598), (-1.202244776, 6.3))
            Line((-1.202244776, 6.3), (1.202244776, 6.3))
            ThreePointArc((1.202244776, 6.3), (2.350295073, 6.071638598), (3.32356512, 5.421320344))
            Line((3.32356512, 5.421320344), (7.330671901, 1.414213562))
            ThreePointArc((7.330671901, 1.414213562), (7.916458339, 0), (7.330671901, -1.414213562))
        make_face(mode=Mode.SUBTRACT)
    boss_extrude2 = extrude(amount=-BOSS_EXTRUDE2_DEPTH)

    # Mirror1: Boss-Extrude2 across plane
    add(boss_extrude2.mirror(Plane.XY))


solid = part.part
